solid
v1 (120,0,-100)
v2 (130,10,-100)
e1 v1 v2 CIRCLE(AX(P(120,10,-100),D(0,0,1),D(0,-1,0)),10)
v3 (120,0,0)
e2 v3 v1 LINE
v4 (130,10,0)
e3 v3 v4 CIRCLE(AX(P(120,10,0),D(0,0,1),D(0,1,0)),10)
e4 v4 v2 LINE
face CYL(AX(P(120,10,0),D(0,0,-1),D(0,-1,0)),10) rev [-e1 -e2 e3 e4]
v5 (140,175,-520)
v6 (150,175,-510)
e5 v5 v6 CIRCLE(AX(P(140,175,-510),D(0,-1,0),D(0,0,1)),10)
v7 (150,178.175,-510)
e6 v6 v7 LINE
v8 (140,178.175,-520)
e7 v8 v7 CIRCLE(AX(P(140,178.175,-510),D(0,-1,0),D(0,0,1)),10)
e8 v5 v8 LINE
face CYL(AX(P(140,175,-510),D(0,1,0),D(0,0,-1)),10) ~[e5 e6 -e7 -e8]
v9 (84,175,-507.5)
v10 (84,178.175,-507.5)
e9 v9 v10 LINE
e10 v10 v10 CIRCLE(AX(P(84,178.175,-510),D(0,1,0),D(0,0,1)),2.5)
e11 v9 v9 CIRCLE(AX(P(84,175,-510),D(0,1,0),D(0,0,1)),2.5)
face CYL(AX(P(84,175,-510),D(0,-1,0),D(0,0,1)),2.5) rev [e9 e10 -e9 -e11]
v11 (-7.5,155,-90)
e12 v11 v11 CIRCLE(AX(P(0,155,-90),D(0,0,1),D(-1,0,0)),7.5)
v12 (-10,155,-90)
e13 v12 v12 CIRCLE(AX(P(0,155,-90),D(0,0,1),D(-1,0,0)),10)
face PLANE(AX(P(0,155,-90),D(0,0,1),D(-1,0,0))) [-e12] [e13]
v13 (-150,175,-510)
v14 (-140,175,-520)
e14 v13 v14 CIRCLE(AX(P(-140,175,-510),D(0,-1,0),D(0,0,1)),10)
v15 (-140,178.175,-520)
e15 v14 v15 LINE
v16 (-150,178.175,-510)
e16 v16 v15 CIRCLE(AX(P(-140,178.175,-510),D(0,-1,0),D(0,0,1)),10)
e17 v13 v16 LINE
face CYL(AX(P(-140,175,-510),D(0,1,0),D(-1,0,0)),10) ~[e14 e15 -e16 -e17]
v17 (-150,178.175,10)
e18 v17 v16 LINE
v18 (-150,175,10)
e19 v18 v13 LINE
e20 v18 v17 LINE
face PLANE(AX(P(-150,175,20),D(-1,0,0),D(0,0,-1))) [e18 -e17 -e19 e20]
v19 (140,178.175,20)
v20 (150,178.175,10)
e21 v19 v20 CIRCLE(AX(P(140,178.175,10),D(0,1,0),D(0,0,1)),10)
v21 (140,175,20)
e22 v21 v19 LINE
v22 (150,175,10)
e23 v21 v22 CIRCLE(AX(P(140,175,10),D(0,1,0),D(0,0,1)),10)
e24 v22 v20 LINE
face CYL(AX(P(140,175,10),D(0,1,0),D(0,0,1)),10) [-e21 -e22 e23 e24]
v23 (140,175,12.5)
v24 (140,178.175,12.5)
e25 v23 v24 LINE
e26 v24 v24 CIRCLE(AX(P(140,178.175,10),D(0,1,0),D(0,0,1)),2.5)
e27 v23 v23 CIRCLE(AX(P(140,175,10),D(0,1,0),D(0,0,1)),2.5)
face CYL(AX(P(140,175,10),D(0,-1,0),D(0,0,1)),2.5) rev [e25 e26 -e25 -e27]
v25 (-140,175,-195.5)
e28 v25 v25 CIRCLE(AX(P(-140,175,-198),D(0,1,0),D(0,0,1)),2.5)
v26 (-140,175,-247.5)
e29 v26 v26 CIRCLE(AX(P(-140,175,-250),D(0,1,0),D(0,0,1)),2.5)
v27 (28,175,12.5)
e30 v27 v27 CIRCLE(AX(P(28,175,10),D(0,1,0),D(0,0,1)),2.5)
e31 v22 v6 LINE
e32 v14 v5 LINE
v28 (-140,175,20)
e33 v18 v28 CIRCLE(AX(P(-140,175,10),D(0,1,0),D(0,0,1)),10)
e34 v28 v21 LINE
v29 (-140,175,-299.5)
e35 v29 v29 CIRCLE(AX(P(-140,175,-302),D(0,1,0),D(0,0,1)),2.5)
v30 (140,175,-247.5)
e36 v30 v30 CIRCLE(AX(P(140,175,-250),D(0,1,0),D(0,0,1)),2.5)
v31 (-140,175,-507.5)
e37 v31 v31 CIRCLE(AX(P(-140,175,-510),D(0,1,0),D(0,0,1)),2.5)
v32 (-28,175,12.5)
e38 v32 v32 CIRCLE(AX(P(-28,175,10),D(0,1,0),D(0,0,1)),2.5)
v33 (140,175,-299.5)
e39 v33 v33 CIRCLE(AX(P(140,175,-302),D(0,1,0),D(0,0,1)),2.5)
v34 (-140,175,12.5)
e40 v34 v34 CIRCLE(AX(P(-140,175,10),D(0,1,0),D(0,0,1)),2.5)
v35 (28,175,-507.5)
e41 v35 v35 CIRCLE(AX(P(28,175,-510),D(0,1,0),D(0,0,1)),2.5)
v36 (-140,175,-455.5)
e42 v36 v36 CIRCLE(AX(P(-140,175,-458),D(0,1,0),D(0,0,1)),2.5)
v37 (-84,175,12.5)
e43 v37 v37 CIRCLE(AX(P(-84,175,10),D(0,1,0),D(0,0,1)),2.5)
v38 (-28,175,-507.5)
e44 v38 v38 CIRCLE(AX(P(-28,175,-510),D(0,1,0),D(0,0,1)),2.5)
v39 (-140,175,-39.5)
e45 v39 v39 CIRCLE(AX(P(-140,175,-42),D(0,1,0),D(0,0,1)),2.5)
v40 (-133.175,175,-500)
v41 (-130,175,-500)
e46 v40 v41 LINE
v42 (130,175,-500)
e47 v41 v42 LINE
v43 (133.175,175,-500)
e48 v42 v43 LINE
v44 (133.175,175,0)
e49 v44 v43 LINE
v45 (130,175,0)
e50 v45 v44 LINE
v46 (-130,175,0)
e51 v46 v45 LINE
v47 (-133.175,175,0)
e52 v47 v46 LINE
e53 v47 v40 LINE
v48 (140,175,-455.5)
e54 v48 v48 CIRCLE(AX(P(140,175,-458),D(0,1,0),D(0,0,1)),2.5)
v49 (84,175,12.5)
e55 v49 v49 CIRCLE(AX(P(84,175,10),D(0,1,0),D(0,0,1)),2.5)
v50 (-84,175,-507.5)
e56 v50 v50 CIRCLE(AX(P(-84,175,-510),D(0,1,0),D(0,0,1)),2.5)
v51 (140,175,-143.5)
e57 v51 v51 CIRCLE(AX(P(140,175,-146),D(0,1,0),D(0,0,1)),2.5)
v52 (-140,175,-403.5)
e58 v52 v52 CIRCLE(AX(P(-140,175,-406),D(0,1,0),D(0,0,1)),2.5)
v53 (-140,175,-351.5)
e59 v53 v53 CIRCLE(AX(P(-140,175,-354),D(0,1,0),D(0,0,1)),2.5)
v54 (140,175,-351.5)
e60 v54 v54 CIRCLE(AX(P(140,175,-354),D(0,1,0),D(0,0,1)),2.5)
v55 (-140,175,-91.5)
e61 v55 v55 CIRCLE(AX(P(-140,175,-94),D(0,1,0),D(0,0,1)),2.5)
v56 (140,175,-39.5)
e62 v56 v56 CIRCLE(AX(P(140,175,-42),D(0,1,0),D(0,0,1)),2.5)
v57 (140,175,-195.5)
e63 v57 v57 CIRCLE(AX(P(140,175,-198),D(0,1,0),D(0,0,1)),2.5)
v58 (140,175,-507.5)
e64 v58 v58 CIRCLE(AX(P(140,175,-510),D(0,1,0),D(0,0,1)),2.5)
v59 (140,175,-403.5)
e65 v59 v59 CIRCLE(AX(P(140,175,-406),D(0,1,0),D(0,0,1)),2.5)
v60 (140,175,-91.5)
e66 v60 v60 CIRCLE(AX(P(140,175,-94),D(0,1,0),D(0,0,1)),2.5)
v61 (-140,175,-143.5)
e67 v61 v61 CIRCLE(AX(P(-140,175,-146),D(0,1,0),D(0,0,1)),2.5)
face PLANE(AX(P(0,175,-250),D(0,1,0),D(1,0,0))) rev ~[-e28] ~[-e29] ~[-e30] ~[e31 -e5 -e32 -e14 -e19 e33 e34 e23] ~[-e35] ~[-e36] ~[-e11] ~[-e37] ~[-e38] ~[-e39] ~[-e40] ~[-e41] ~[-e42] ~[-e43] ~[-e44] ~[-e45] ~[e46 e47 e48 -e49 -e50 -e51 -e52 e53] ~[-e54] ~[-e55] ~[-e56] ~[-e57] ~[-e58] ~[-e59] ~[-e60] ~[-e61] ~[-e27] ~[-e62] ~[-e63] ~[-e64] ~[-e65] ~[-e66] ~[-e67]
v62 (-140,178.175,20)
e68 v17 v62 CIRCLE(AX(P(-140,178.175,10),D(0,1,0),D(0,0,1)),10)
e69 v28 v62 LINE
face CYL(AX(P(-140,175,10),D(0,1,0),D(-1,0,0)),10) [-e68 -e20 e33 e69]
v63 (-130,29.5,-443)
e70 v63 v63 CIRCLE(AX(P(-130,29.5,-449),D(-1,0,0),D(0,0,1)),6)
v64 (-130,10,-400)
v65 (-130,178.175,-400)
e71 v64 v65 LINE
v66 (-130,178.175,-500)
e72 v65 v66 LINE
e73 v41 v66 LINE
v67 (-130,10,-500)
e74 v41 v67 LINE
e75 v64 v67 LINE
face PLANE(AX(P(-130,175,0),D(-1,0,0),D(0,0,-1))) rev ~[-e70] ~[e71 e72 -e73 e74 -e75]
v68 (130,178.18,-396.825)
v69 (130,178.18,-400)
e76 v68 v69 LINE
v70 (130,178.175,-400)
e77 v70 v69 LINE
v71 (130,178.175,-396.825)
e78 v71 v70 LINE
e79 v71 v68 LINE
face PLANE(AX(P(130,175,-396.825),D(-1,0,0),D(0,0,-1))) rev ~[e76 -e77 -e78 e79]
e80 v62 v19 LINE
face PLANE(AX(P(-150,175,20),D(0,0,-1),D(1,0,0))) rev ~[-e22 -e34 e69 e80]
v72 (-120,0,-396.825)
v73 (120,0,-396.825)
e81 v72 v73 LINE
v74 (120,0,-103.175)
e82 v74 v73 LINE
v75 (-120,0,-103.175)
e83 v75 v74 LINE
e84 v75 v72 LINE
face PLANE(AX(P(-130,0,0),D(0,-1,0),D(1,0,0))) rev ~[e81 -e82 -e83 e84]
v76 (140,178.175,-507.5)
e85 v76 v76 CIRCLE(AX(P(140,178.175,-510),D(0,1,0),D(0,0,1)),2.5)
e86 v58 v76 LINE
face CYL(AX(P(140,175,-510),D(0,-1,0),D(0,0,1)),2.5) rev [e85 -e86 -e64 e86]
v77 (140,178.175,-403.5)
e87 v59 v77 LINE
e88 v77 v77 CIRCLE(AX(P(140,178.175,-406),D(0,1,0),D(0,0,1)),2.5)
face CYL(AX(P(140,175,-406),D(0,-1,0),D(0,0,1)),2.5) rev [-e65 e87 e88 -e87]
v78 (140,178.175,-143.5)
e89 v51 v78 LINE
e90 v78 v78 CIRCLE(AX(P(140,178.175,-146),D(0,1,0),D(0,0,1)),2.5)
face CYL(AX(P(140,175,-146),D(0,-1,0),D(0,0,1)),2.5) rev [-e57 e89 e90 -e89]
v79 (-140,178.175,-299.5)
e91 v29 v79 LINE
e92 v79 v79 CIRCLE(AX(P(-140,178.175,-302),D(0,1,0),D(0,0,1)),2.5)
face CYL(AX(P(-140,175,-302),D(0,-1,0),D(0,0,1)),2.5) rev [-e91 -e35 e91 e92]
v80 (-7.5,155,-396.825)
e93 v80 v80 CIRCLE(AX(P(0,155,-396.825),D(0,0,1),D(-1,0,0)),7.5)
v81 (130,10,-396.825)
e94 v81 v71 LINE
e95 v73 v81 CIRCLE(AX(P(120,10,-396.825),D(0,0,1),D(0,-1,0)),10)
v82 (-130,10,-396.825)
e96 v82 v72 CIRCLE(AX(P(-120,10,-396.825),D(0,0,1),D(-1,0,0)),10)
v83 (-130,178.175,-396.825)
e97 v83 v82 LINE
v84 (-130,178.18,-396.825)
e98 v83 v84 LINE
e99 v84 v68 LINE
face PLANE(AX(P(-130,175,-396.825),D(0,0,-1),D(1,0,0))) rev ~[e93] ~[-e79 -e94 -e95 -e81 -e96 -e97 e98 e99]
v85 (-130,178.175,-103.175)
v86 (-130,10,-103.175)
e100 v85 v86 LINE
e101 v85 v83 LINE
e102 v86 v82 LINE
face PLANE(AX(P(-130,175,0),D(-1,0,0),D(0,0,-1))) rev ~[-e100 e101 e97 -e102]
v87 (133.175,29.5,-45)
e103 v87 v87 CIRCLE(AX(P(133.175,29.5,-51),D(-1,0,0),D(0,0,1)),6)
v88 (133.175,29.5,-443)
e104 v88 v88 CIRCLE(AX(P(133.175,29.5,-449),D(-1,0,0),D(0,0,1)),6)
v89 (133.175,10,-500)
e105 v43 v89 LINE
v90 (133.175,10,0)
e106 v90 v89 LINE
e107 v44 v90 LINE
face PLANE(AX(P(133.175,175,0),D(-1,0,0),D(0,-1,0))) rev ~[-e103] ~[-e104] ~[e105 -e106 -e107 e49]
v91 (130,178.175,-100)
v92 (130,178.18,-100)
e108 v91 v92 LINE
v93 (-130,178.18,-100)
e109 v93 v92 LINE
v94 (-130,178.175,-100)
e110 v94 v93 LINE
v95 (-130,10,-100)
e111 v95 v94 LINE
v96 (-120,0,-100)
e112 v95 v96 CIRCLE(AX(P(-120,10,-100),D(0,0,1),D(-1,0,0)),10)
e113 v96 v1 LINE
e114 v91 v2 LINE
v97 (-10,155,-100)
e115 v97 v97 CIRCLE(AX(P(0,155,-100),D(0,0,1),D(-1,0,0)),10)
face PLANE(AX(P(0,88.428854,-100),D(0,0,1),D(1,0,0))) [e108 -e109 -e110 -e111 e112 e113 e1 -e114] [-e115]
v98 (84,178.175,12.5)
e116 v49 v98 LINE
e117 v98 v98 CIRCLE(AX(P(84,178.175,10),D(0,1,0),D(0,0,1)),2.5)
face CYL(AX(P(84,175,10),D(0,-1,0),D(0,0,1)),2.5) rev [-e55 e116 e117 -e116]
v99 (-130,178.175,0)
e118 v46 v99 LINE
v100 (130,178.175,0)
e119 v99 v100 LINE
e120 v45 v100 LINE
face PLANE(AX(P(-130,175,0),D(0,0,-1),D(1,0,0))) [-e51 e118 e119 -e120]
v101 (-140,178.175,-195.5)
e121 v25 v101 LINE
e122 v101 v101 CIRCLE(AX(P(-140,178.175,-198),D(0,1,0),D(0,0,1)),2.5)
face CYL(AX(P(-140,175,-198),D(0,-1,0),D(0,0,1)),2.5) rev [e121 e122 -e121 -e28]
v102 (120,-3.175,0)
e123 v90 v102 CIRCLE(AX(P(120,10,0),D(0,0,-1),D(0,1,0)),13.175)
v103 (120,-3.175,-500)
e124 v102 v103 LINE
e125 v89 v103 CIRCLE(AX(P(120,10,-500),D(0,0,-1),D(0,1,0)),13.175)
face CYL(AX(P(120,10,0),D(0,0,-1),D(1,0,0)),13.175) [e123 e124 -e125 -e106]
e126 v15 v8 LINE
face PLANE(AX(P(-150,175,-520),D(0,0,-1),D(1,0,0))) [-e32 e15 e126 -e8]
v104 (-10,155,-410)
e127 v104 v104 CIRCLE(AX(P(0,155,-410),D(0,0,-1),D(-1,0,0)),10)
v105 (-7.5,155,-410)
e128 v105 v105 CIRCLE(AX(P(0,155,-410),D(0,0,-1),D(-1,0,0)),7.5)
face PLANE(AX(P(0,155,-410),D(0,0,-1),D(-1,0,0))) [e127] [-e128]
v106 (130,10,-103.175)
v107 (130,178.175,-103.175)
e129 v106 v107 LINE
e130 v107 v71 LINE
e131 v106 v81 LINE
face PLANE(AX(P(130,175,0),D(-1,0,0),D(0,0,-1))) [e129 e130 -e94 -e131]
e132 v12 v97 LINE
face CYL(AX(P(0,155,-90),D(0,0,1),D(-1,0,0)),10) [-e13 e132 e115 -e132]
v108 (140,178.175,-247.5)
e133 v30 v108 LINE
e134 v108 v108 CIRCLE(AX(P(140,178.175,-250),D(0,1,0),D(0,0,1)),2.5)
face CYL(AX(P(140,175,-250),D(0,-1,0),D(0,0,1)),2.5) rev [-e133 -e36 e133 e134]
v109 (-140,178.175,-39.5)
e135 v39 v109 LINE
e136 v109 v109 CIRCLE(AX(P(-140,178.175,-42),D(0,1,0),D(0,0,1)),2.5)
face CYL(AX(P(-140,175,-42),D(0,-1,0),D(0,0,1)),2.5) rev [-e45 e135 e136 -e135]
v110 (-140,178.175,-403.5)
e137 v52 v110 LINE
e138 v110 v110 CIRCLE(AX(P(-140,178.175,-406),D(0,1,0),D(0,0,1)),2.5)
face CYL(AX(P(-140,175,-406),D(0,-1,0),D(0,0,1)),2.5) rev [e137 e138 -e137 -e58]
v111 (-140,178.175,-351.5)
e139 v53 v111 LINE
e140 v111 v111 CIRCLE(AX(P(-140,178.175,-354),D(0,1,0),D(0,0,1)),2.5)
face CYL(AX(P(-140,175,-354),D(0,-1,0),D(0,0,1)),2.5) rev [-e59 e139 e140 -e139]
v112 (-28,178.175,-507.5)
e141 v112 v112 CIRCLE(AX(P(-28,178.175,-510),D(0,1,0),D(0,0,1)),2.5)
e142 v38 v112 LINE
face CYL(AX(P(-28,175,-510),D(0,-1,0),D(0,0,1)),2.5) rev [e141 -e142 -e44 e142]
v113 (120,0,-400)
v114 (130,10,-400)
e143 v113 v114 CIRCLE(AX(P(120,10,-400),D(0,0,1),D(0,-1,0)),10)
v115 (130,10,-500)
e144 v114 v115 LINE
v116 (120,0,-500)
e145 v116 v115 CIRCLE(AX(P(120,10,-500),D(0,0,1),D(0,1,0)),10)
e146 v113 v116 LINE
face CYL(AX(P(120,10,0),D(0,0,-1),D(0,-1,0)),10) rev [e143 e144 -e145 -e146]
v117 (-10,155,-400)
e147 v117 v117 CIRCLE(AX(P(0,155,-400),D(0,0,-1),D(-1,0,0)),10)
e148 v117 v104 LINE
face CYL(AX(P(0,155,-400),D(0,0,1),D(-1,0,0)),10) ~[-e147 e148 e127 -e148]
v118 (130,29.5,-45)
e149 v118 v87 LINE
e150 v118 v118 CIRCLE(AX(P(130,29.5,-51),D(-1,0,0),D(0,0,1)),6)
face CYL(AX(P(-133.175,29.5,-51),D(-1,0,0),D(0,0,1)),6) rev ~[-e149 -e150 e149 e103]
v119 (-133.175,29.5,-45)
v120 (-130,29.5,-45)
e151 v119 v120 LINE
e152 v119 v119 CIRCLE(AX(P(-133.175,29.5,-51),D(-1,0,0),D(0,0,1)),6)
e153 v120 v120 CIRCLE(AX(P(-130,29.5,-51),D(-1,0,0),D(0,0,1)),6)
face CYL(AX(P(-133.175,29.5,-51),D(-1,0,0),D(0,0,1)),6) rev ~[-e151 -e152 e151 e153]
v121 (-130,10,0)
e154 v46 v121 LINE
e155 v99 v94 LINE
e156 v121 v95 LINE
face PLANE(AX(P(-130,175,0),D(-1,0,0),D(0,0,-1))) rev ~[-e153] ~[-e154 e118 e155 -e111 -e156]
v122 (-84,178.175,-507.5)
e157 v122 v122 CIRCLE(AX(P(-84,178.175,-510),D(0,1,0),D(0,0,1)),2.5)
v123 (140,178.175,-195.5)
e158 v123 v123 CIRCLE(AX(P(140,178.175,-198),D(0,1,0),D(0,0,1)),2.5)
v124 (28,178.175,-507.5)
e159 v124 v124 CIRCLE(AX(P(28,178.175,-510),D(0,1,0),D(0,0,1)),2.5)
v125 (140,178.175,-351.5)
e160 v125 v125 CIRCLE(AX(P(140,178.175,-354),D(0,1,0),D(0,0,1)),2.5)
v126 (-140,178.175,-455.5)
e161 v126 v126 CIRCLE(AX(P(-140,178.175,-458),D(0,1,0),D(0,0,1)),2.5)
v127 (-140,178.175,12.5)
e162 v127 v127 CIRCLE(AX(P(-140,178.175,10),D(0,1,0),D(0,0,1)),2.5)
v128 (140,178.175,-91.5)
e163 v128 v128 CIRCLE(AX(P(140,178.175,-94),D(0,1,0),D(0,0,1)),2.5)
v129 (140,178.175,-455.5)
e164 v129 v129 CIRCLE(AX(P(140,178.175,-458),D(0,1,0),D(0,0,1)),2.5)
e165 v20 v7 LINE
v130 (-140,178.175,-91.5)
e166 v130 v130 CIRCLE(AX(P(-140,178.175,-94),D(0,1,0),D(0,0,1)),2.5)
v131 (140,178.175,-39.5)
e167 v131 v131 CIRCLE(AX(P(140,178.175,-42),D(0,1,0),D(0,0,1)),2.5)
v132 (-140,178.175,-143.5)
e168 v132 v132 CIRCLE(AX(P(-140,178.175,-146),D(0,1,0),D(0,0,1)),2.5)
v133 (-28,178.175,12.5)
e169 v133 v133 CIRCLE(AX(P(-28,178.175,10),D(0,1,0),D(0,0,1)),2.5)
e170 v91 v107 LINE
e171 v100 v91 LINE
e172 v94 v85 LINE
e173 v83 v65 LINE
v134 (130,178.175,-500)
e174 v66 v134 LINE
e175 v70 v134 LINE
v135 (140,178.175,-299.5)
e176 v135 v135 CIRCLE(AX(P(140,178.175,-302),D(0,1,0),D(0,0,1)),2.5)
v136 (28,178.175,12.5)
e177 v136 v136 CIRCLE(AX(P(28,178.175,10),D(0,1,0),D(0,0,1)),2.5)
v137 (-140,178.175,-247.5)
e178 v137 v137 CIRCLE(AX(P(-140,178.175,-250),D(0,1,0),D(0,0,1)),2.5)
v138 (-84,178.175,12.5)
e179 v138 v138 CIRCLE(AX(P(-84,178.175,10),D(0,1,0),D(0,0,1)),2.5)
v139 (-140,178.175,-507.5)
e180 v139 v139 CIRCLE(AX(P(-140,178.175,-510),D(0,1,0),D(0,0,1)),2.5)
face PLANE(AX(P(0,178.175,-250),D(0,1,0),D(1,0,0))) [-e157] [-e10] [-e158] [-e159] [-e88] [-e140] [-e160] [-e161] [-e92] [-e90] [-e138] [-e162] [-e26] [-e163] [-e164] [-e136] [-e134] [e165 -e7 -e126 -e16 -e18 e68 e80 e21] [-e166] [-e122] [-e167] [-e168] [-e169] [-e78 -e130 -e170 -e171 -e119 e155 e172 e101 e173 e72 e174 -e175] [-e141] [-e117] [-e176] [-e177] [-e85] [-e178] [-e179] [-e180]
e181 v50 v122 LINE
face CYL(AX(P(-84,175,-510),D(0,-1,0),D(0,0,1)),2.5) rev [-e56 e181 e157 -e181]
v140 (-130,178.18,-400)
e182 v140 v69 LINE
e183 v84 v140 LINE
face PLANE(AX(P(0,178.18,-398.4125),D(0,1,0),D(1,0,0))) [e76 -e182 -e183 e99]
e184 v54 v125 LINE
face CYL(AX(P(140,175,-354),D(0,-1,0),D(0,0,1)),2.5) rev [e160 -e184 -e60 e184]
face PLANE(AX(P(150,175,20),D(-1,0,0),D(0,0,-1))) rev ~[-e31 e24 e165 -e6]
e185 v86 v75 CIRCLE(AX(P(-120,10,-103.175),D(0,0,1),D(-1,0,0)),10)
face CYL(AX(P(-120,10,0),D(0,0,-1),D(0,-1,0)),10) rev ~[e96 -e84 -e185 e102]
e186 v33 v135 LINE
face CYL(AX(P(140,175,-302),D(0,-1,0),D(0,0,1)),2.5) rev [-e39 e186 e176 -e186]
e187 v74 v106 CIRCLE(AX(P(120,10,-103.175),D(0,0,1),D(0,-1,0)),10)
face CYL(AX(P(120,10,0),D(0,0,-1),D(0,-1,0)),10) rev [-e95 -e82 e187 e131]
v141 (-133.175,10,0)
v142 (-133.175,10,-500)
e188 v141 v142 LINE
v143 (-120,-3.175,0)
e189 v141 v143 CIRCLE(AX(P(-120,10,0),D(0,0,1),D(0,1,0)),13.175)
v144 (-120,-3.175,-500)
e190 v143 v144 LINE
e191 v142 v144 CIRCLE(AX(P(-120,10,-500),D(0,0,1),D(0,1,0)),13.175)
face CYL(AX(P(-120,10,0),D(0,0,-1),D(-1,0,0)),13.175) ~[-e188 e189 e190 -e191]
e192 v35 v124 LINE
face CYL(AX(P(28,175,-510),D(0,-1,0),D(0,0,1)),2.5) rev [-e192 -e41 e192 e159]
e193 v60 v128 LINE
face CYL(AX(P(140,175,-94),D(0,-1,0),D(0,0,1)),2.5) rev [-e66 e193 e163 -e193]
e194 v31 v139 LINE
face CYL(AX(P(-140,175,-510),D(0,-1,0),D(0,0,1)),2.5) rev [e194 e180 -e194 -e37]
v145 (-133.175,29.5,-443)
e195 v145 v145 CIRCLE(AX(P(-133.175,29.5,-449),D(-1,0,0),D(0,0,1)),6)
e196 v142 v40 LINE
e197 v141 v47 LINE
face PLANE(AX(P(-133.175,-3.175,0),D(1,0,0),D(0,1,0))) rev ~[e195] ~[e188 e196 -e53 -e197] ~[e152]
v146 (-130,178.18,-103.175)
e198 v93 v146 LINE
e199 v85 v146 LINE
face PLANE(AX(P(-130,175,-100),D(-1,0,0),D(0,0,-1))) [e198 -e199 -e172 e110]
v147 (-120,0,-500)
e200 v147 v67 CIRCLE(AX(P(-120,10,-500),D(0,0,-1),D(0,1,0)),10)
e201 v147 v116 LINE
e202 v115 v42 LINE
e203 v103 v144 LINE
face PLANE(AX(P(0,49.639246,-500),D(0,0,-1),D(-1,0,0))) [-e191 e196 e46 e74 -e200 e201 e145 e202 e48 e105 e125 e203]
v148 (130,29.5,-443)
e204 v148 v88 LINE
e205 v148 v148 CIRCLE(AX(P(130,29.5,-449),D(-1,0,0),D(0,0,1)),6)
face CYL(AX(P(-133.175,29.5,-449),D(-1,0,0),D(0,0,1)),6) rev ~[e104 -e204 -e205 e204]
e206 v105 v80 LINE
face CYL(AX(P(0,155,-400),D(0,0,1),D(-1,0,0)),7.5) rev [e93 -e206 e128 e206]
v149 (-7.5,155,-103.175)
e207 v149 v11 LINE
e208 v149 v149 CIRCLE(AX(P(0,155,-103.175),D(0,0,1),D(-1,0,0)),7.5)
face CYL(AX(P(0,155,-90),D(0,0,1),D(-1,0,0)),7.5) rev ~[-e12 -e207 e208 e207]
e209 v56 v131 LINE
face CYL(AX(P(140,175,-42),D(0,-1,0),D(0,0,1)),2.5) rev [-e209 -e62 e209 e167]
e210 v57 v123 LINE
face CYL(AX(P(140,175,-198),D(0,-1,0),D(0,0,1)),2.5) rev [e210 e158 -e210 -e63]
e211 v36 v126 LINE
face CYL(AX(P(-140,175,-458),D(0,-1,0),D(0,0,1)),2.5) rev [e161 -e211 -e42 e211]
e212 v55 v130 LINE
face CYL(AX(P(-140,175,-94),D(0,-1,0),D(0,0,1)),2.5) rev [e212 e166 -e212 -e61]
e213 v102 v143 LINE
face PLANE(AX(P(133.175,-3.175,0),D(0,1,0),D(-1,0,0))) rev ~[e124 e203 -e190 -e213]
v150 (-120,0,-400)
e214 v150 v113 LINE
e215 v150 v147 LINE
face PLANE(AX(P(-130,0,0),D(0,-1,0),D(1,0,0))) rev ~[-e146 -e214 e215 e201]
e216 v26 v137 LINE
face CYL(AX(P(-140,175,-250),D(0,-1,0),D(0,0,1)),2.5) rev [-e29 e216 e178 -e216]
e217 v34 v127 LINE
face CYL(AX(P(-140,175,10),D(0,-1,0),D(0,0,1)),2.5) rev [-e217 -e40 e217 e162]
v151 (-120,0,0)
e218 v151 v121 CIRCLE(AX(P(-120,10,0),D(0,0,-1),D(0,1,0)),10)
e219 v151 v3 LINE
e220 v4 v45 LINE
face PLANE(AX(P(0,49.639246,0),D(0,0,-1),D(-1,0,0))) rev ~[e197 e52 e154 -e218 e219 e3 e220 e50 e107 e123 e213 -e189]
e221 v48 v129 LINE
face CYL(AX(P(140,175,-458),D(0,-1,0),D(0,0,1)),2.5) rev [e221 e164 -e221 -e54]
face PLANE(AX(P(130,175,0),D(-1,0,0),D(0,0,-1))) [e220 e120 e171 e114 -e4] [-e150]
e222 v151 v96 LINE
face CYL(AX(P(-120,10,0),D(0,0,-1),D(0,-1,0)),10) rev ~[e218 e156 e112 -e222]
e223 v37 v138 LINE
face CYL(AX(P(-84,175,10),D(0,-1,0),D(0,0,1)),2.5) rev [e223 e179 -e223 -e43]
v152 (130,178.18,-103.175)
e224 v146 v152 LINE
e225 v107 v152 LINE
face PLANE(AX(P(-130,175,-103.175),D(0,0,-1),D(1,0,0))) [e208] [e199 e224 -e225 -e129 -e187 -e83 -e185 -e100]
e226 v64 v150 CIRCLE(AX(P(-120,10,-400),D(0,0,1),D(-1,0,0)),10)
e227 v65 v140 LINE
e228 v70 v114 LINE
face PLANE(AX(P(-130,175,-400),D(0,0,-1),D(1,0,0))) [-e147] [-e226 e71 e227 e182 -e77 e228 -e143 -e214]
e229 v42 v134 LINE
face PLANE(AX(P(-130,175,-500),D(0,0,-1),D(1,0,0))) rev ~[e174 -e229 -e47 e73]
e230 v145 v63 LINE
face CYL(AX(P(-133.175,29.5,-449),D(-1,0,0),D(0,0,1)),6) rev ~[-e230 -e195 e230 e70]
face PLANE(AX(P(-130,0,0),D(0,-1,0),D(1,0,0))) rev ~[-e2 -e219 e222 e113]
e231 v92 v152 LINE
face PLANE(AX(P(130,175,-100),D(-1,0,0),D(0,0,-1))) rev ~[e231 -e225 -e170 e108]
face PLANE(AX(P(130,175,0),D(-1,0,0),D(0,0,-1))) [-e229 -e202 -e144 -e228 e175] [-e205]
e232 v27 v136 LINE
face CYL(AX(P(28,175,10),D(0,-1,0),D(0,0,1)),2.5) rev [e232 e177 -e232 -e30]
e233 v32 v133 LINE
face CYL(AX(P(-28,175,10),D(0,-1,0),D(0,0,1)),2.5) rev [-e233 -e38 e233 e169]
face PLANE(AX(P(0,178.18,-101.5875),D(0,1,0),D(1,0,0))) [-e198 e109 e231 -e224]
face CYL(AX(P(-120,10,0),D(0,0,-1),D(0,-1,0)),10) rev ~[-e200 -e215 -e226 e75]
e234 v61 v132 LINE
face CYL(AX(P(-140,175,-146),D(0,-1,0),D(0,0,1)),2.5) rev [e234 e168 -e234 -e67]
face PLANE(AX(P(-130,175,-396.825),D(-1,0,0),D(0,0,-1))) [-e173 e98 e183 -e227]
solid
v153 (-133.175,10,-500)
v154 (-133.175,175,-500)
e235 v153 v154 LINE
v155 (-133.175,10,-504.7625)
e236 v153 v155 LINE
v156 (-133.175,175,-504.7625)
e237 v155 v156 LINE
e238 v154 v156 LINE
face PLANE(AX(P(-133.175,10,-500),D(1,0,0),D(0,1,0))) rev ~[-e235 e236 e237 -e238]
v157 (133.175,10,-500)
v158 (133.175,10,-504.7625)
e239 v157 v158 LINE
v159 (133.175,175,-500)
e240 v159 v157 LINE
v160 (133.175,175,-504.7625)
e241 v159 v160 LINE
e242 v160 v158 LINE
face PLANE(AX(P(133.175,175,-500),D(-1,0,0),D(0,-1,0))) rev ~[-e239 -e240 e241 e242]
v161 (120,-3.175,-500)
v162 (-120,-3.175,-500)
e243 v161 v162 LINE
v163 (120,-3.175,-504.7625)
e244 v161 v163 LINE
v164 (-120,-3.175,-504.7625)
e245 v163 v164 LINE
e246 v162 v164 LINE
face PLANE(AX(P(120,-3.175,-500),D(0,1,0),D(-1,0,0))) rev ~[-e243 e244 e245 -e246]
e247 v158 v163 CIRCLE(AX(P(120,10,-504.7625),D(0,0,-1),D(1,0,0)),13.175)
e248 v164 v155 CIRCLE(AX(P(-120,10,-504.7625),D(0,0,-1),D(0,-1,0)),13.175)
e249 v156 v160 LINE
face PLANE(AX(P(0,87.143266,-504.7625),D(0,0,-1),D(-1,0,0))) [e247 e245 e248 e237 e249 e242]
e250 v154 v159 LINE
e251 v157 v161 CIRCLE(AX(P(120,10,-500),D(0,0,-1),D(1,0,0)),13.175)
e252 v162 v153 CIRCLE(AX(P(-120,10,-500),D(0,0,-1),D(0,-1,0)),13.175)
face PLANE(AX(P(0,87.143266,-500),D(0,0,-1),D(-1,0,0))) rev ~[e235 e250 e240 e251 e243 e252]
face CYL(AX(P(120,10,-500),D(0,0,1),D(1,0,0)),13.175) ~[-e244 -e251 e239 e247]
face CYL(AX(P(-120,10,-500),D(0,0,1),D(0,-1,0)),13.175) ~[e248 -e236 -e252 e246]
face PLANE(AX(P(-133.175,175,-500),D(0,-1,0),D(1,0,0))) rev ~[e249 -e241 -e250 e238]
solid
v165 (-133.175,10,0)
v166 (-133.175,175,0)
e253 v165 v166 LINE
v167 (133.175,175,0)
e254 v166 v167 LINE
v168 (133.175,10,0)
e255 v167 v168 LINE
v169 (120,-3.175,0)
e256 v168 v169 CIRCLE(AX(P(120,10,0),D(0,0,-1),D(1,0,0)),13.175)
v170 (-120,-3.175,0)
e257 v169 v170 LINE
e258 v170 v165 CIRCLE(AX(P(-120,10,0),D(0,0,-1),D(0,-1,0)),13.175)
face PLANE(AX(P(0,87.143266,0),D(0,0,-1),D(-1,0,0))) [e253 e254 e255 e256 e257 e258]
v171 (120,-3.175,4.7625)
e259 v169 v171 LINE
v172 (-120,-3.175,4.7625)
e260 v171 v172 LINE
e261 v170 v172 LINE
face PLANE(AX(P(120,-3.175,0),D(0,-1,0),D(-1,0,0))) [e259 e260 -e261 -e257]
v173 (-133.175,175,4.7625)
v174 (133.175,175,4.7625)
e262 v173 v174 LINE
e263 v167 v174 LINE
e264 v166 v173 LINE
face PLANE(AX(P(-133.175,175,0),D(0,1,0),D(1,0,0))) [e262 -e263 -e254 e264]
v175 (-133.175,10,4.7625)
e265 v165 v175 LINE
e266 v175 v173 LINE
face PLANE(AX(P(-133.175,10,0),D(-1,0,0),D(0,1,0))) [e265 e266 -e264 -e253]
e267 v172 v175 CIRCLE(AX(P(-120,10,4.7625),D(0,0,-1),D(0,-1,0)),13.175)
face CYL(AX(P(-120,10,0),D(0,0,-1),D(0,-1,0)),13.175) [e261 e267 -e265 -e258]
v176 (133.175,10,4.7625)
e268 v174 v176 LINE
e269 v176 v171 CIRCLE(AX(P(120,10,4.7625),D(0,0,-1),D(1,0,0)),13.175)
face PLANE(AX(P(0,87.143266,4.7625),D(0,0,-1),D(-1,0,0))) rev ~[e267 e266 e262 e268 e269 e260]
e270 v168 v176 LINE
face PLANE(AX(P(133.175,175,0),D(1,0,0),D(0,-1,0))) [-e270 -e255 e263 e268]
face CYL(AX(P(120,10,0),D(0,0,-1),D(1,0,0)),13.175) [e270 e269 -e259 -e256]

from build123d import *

# Parameters (mm, degrees)
INTERIOR_DIM_DEPTH      = 500
FILLET2_R               = 10
FILLET3_R               = 13.175
ENDCAP1_DEPTH           = 4.7625
COMPARTMENT1_BOSS_DEPTH = 3.175
SKETCH9_W               = 300
SKETCH9_H               = 540
SKETCH9_R               = 2.5
SKETCH9_W_2             = 260
SKETCH9_H_2             = 500
LID_FLANGE_DEPTH        = 3.175
FILLET4_R               = 10
ENDCAP2_DEPTH           = 4.7625
COMPARTMENT2_BOSS_DEPTH = 3.175
SKETCH16_R              = 6
BEARING_HOLES_DEPTH     = 619.331958781
WIRE_PASSTHROUGH_START  = -300
SKETCH17_R              = 7.5
WIRE_PASSTHROUGH_DEPTH  = 300
SKETCH18_W              = 260
SKETCH18_H              = 3.175
BOSS_EXTRUDE1_DEPTH     = 3.18
SKETCH17_3_R            = 10
SKETCH17_3_R_2          = 7.5
WIRE_TUBE_2_DEPTH       = 10
WIRE_TUBE_1_START       = 10
SKETCH19_R              = 10
SKETCH19_R_2            = 7.5
WIRE_TUBE_1_DEPTH       = 10


with BuildPart() as part:
    # Sketch2 → Interior Dim (new body)
    with BuildSketch(Plane.XY):
        Polygon((-130, 0), (130, 0), (130, 175), (133.175, 175), (133.175, -3.175), (-133.175, -3.175), (-133.175, 175), (-130, 175), align=None)
    extrude(amount=-INTERIOR_DIM_DEPTH)

    # Fillet2
    fillet2_edges = [part.edges().sort_by_distance(p)[0] for p in [
        (-130, 0, -250),
        (130, 0, -250),
    ]]
    fillet(fillet2_edges, radius=FILLET2_R)

    # Fillet3
    fillet3_edges = [part.edges().sort_by_distance(p)[0] for p in [
        (-133.175, -3.175, -250),
        (133.175, -3.175, -250),
    ]]
    fillet(fillet3_edges, radius=FILLET3_R)



with BuildPart() as body_2:
    # Sketch4 → Endcap1 (new body)
    with BuildSketch(Plane.XY):
        with BuildLine():
            Line((-130, 175), (130, 175))
            Line((130, 175), (133.175, 175))
            Line((133.175, 175), (133.175, 10))
            ThreePointArc((133.175, 10), (129.316131842, 0.683868158), (120, -3.175))
            Line((120, -3.175), (-120, -3.175))
            ThreePointArc((-120, -3.175), (-129.316131842, 0.683868158), (-133.175, 10))
            Line((-133.175, 10), (-133.175, 175))
            Line((-133.175, 175), (-130, 175))
        make_face()
    extrude(amount=ENDCAP1_DEPTH)


with BuildPart() as body_3:
    # Sketch7 → Compartment1_Boss (new body)
    with BuildSketch(Plane(origin=(0, 0, -100), x_dir=(-1, 0, 0), z_dir=(0, 0, -1))):
        with BuildLine():
            Line((120, 0), (-120, 0))
            ThreePointArc((-120, 0), (-127.071067812, 2.928932188), (-130, 10))
            Line((-130, 10), (-130, 175))
            Line((-130, 175), (130, 175))
            Line((130, 175), (130, 10))
            ThreePointArc((130, 10), (127.071067812, 2.928932188), (120, 0))
        make_face()
    extrude(amount=COMPARTMENT1_BOSS_DEPTH)


with BuildPart() as body_4:
    # Sketch9 → Lid_Flange (new body)
    with BuildSketch(Plane(origin=(0, 175, 0), x_dir=(1, 0, 0), z_dir=(0, 1, 0))):
        with Locations((0, 250)):
            Rectangle(SKETCH9_W, SKETCH9_H)
        with Locations(Location((-140, -10, 0), (0, 0, 270))):
            Circle(SKETCH9_R, mode=Mode.SUBTRACT)
        with Locations(Location((-140, 42, 0), (0, 0, 270))):
            Circle(SKETCH9_R, mode=Mode.SUBTRACT)
        with Locations(Location((-140, 94, 0), (0, 0, 270))):
            Circle(SKETCH9_R, mode=Mode.SUBTRACT)
        with Locations(Location((-140, 146, 0), (0, 0, 270))):
            Circle(SKETCH9_R, mode=Mode.SUBTRACT)
        with Locations(Location((-140, 198, 0), (0, 0, 270))):
            Circle(SKETCH9_R, mode=Mode.SUBTRACT)
        with Locations(Location((-140, 250, 0), (0, 0, 270))):
            Circle(SKETCH9_R, mode=Mode.SUBTRACT)
        with Locations(Location((-140, 302, 0), (0, 0, 270))):
            Circle(SKETCH9_R, mode=Mode.SUBTRACT)
        with Locations(Location((-140, 354, 0), (0, 0, 270))):
            Circle(SKETCH9_R, mode=Mode.SUBTRACT)
        with Locations(Location((-140, 406, 0), (0, 0, 270))):
            Circle(SKETCH9_R, mode=Mode.SUBTRACT)
        with Locations(Location((-140, 458, 0), (0, 0, 270))):
            Circle(SKETCH9_R, mode=Mode.SUBTRACT)
        with Locations(Location((-140, 510, 0), (0, 0, 270))):
            Circle(SKETCH9_R, mode=Mode.SUBTRACT)
        with Locations(Location((-84, 510, 0), (0, 0, 270))):
            Circle(SKETCH9_R, mode=Mode.SUBTRACT)
        with Locations(Location((-28, 510, 0), (0, 0, 270))):
            Circle(SKETCH9_R, mode=Mode.SUBTRACT)
        with Locations(Location((28, 510, 0), (0, 0, 270))):
            Circle(SKETCH9_R, mode=Mode.SUBTRACT)
        with Locations(Location((84, 510, 0), (0, 0, 270))):
            Circle(SKETCH9_R, mode=Mode.SUBTRACT)
        with Locations(Location((140, 510, 0), (0, 0, 270))):
            Circle(SKETCH9_R, mode=Mode.SUBTRACT)
        with Locations(Location((140, 458, 0), (0, 0, 270))):
            Circle(SKETCH9_R, mode=Mode.SUBTRACT)
        with Locations(Location((140, 406, 0), (0, 0, 270))):
            Circle(SKETCH9_R, mode=Mode.SUBTRACT)
        with Locations(Location((140, 354, 0), (0, 0, 270))):
            Circle(SKETCH9_R, mode=Mode.SUBTRACT)
        with Locations(Location((140, 302, 0), (0, 0, 270))):
            Circle(SKETCH9_R, mode=Mode.SUBTRACT)
        with Locations(Location((140, 250, 0), (0, 0, 270))):
            Circle(SKETCH9_R, mode=Mode.SUBTRACT)
        with Locations(Location((140, 198, 0), (0, 0, 270))):
            Circle(SKETCH9_R, mode=Mode.SUBTRACT)
        with Locations(Location((140, 146, 0), (0, 0, 270))):
            Circle(SKETCH9_R, mode=Mode.SUBTRACT)
        with Locations(Location((140, 94, 0), (0, 0, 270))):
            Circle(SKETCH9_R, mode=Mode.SUBTRACT)
        with Locations(Location((140, 42, 0), (0, 0, 270))):
            Circle(SKETCH9_R, mode=Mode.SUBTRACT)
        with Locations(Location((140, -10, 0), (0, 0, 270))):
            Circle(SKETCH9_R, mode=Mode.SUBTRACT)
        with Locations(Location((84, -10, 0), (0, 0, 270))):
            Circle(SKETCH9_R, mode=Mode.SUBTRACT)
        with Locations(Location((28, -10, 0), (0, 0, 270))):
            Circle(SKETCH9_R, mode=Mode.SUBTRACT)
        with Locations(Location((-28, -10, 0), (0, 0, 270))):
            Circle(SKETCH9_R, mode=Mode.SUBTRACT)
        with Locations(Location((-84, -10, 0), (0, 0, 270))):
            Circle(SKETCH9_R, mode=Mode.SUBTRACT)
        with Locations((0, 250)):
            Rectangle(SKETCH9_W_2, SKETCH9_H_2, mode=Mode.SUBTRACT)
    extrude(amount=LID_FLANGE_DEPTH)

    # Fillet4
    fillet4_edges = [body_4.edges().sort_by_distance(p)[0] for p in [
        (150, 176.5875, -520),
        (150, 176.5875, 20),
        (-150, 176.5875, 20),
        (-150, 176.5875, -520),
    ]]
    fillet(fillet4_edges, radius=FILLET4_R)


with BuildPart() as body_5:
    # Sketch5 → Endcap2 (new body)
    with BuildSketch(Plane(origin=(0, 0, -500), x_dir=(-1, 0, 0), z_dir=(0, 0, -1))):
        with BuildLine():
            Line((133.175, 175), (-133.175, 175))
            Line((-133.175, 175), (-133.175, 10))
            ThreePointArc((-133.175, 10), (-129.316131842, 0.683868158), (-120, -3.175))
            Line((-120, -3.175), (120, -3.175))
            ThreePointArc((120, -3.175), (129.316131842, 0.683868158), (133.175, 10))
            Line((133.175, 10), (133.175, 175))
        make_face()
    extrude(amount=ENDCAP2_DEPTH)


with BuildPart() as part_1:
    add(part.part)

    add(body_4.part)  # Compartment2_Boss merges body 4
    # Sketch13 → Compartment2_Boss (add)
    with BuildSketch(Plane.XY.offset(-400)):
        with BuildLine():
            Line((130, 175), (-130, 175))
            Line((-130, 175), (-130, 10))
            ThreePointArc((-130, 10), (-127.071067812, 2.928932188), (-120, 0))
            Line((-120, 0), (120, 0))
            ThreePointArc((120, 0), (127.071067812, 2.928932188), (130, 10))
            Line((130, 10), (130, 175))
        make_face()
    extrude(amount=COMPARTMENT2_BOSS_DEPTH)

    # Sketch16 → Bearing_holes (cut, through all)
    with BuildSketch(Plane.ZY.offset(133.175)):
        with Locations((-449, 29.5)):
            Circle(SKETCH16_R)
        with Locations((-51, 29.5)):
            Circle(SKETCH16_R)
    extrude(amount=-BEARING_HOLES_DEPTH, mode=Mode.SUBTRACT)


with BuildPart() as wire_passthrough_tool:
    # Sketch17 → Wire_Passthrough (new body)
    with BuildSketch(Plane(origin=(0, 0, -400), x_dir=(-1, 0, 0), z_dir=(0, 0, -1)).offset(WIRE_PASSTHROUGH_START)):
        with Locations((0, 155)):
            Circle(SKETCH17_R)
    extrude(amount=WIRE_PASSTHROUGH_DEPTH)


with BuildPart() as part_2:
    add(part_1.part)

    # Wire_Passthrough: cut by wire_passthrough_tool
    add(wire_passthrough_tool.part, mode=Mode.SUBTRACT)



with BuildPart() as body_3_1:
    add(body_3.part)

    # Wire_Passthrough: cut by wire_passthrough_tool
    add(wire_passthrough_tool.part, mode=Mode.SUBTRACT)


with BuildPart() as part_3:
    add(part_2.part)

    add(body_3_1.part)  # Boss-Extrude1 merges body 3
    # Sketch18 → Boss-Extrude1 (add)
    with BuildSketch(Plane(origin=(0, 175, 0), x_dir=(1, 0, 0), z_dir=(0, 1, 0))):
        with Locations((0, 398.4125)):
            Rectangle(SKETCH18_W, SKETCH18_H)
        with Locations((0, 101.5875)):
            Rectangle(SKETCH18_W, SKETCH18_H)
    extrude(amount=BOSS_EXTRUDE1_DEPTH)

    # Sketch17<3> → Wire_Tube_2 (add)
    with BuildSketch(Plane(origin=(0, 0, -400), x_dir=(-1, 0, 0), z_dir=(0, 0, -1))):
        with Locations((0, 155)):
            Circle(SKETCH17_3_R)
        with Locations((0, 155)):
            Circle(SKETCH17_3_R_2, mode=Mode.SUBTRACT)
    extrude(amount=WIRE_TUBE_2_DEPTH)

    # Sketch19 → Wire_Tube_1 (add)
    with BuildSketch(Plane.XY.offset(-100).offset(WIRE_TUBE_1_START)):
        with Locations(Location((0, 155, 0), (0, 0, 180))):
            Circle(SKETCH19_R)
        with Locations(Location((0, 155, 0), (0, 0, 180))):
            Circle(SKETCH19_R_2, mode=Mode.SUBTRACT)
    extrude(amount=-WIRE_TUBE_1_DEPTH)


solid = Compound([body_2.part, body_5.part, part_3.part])
